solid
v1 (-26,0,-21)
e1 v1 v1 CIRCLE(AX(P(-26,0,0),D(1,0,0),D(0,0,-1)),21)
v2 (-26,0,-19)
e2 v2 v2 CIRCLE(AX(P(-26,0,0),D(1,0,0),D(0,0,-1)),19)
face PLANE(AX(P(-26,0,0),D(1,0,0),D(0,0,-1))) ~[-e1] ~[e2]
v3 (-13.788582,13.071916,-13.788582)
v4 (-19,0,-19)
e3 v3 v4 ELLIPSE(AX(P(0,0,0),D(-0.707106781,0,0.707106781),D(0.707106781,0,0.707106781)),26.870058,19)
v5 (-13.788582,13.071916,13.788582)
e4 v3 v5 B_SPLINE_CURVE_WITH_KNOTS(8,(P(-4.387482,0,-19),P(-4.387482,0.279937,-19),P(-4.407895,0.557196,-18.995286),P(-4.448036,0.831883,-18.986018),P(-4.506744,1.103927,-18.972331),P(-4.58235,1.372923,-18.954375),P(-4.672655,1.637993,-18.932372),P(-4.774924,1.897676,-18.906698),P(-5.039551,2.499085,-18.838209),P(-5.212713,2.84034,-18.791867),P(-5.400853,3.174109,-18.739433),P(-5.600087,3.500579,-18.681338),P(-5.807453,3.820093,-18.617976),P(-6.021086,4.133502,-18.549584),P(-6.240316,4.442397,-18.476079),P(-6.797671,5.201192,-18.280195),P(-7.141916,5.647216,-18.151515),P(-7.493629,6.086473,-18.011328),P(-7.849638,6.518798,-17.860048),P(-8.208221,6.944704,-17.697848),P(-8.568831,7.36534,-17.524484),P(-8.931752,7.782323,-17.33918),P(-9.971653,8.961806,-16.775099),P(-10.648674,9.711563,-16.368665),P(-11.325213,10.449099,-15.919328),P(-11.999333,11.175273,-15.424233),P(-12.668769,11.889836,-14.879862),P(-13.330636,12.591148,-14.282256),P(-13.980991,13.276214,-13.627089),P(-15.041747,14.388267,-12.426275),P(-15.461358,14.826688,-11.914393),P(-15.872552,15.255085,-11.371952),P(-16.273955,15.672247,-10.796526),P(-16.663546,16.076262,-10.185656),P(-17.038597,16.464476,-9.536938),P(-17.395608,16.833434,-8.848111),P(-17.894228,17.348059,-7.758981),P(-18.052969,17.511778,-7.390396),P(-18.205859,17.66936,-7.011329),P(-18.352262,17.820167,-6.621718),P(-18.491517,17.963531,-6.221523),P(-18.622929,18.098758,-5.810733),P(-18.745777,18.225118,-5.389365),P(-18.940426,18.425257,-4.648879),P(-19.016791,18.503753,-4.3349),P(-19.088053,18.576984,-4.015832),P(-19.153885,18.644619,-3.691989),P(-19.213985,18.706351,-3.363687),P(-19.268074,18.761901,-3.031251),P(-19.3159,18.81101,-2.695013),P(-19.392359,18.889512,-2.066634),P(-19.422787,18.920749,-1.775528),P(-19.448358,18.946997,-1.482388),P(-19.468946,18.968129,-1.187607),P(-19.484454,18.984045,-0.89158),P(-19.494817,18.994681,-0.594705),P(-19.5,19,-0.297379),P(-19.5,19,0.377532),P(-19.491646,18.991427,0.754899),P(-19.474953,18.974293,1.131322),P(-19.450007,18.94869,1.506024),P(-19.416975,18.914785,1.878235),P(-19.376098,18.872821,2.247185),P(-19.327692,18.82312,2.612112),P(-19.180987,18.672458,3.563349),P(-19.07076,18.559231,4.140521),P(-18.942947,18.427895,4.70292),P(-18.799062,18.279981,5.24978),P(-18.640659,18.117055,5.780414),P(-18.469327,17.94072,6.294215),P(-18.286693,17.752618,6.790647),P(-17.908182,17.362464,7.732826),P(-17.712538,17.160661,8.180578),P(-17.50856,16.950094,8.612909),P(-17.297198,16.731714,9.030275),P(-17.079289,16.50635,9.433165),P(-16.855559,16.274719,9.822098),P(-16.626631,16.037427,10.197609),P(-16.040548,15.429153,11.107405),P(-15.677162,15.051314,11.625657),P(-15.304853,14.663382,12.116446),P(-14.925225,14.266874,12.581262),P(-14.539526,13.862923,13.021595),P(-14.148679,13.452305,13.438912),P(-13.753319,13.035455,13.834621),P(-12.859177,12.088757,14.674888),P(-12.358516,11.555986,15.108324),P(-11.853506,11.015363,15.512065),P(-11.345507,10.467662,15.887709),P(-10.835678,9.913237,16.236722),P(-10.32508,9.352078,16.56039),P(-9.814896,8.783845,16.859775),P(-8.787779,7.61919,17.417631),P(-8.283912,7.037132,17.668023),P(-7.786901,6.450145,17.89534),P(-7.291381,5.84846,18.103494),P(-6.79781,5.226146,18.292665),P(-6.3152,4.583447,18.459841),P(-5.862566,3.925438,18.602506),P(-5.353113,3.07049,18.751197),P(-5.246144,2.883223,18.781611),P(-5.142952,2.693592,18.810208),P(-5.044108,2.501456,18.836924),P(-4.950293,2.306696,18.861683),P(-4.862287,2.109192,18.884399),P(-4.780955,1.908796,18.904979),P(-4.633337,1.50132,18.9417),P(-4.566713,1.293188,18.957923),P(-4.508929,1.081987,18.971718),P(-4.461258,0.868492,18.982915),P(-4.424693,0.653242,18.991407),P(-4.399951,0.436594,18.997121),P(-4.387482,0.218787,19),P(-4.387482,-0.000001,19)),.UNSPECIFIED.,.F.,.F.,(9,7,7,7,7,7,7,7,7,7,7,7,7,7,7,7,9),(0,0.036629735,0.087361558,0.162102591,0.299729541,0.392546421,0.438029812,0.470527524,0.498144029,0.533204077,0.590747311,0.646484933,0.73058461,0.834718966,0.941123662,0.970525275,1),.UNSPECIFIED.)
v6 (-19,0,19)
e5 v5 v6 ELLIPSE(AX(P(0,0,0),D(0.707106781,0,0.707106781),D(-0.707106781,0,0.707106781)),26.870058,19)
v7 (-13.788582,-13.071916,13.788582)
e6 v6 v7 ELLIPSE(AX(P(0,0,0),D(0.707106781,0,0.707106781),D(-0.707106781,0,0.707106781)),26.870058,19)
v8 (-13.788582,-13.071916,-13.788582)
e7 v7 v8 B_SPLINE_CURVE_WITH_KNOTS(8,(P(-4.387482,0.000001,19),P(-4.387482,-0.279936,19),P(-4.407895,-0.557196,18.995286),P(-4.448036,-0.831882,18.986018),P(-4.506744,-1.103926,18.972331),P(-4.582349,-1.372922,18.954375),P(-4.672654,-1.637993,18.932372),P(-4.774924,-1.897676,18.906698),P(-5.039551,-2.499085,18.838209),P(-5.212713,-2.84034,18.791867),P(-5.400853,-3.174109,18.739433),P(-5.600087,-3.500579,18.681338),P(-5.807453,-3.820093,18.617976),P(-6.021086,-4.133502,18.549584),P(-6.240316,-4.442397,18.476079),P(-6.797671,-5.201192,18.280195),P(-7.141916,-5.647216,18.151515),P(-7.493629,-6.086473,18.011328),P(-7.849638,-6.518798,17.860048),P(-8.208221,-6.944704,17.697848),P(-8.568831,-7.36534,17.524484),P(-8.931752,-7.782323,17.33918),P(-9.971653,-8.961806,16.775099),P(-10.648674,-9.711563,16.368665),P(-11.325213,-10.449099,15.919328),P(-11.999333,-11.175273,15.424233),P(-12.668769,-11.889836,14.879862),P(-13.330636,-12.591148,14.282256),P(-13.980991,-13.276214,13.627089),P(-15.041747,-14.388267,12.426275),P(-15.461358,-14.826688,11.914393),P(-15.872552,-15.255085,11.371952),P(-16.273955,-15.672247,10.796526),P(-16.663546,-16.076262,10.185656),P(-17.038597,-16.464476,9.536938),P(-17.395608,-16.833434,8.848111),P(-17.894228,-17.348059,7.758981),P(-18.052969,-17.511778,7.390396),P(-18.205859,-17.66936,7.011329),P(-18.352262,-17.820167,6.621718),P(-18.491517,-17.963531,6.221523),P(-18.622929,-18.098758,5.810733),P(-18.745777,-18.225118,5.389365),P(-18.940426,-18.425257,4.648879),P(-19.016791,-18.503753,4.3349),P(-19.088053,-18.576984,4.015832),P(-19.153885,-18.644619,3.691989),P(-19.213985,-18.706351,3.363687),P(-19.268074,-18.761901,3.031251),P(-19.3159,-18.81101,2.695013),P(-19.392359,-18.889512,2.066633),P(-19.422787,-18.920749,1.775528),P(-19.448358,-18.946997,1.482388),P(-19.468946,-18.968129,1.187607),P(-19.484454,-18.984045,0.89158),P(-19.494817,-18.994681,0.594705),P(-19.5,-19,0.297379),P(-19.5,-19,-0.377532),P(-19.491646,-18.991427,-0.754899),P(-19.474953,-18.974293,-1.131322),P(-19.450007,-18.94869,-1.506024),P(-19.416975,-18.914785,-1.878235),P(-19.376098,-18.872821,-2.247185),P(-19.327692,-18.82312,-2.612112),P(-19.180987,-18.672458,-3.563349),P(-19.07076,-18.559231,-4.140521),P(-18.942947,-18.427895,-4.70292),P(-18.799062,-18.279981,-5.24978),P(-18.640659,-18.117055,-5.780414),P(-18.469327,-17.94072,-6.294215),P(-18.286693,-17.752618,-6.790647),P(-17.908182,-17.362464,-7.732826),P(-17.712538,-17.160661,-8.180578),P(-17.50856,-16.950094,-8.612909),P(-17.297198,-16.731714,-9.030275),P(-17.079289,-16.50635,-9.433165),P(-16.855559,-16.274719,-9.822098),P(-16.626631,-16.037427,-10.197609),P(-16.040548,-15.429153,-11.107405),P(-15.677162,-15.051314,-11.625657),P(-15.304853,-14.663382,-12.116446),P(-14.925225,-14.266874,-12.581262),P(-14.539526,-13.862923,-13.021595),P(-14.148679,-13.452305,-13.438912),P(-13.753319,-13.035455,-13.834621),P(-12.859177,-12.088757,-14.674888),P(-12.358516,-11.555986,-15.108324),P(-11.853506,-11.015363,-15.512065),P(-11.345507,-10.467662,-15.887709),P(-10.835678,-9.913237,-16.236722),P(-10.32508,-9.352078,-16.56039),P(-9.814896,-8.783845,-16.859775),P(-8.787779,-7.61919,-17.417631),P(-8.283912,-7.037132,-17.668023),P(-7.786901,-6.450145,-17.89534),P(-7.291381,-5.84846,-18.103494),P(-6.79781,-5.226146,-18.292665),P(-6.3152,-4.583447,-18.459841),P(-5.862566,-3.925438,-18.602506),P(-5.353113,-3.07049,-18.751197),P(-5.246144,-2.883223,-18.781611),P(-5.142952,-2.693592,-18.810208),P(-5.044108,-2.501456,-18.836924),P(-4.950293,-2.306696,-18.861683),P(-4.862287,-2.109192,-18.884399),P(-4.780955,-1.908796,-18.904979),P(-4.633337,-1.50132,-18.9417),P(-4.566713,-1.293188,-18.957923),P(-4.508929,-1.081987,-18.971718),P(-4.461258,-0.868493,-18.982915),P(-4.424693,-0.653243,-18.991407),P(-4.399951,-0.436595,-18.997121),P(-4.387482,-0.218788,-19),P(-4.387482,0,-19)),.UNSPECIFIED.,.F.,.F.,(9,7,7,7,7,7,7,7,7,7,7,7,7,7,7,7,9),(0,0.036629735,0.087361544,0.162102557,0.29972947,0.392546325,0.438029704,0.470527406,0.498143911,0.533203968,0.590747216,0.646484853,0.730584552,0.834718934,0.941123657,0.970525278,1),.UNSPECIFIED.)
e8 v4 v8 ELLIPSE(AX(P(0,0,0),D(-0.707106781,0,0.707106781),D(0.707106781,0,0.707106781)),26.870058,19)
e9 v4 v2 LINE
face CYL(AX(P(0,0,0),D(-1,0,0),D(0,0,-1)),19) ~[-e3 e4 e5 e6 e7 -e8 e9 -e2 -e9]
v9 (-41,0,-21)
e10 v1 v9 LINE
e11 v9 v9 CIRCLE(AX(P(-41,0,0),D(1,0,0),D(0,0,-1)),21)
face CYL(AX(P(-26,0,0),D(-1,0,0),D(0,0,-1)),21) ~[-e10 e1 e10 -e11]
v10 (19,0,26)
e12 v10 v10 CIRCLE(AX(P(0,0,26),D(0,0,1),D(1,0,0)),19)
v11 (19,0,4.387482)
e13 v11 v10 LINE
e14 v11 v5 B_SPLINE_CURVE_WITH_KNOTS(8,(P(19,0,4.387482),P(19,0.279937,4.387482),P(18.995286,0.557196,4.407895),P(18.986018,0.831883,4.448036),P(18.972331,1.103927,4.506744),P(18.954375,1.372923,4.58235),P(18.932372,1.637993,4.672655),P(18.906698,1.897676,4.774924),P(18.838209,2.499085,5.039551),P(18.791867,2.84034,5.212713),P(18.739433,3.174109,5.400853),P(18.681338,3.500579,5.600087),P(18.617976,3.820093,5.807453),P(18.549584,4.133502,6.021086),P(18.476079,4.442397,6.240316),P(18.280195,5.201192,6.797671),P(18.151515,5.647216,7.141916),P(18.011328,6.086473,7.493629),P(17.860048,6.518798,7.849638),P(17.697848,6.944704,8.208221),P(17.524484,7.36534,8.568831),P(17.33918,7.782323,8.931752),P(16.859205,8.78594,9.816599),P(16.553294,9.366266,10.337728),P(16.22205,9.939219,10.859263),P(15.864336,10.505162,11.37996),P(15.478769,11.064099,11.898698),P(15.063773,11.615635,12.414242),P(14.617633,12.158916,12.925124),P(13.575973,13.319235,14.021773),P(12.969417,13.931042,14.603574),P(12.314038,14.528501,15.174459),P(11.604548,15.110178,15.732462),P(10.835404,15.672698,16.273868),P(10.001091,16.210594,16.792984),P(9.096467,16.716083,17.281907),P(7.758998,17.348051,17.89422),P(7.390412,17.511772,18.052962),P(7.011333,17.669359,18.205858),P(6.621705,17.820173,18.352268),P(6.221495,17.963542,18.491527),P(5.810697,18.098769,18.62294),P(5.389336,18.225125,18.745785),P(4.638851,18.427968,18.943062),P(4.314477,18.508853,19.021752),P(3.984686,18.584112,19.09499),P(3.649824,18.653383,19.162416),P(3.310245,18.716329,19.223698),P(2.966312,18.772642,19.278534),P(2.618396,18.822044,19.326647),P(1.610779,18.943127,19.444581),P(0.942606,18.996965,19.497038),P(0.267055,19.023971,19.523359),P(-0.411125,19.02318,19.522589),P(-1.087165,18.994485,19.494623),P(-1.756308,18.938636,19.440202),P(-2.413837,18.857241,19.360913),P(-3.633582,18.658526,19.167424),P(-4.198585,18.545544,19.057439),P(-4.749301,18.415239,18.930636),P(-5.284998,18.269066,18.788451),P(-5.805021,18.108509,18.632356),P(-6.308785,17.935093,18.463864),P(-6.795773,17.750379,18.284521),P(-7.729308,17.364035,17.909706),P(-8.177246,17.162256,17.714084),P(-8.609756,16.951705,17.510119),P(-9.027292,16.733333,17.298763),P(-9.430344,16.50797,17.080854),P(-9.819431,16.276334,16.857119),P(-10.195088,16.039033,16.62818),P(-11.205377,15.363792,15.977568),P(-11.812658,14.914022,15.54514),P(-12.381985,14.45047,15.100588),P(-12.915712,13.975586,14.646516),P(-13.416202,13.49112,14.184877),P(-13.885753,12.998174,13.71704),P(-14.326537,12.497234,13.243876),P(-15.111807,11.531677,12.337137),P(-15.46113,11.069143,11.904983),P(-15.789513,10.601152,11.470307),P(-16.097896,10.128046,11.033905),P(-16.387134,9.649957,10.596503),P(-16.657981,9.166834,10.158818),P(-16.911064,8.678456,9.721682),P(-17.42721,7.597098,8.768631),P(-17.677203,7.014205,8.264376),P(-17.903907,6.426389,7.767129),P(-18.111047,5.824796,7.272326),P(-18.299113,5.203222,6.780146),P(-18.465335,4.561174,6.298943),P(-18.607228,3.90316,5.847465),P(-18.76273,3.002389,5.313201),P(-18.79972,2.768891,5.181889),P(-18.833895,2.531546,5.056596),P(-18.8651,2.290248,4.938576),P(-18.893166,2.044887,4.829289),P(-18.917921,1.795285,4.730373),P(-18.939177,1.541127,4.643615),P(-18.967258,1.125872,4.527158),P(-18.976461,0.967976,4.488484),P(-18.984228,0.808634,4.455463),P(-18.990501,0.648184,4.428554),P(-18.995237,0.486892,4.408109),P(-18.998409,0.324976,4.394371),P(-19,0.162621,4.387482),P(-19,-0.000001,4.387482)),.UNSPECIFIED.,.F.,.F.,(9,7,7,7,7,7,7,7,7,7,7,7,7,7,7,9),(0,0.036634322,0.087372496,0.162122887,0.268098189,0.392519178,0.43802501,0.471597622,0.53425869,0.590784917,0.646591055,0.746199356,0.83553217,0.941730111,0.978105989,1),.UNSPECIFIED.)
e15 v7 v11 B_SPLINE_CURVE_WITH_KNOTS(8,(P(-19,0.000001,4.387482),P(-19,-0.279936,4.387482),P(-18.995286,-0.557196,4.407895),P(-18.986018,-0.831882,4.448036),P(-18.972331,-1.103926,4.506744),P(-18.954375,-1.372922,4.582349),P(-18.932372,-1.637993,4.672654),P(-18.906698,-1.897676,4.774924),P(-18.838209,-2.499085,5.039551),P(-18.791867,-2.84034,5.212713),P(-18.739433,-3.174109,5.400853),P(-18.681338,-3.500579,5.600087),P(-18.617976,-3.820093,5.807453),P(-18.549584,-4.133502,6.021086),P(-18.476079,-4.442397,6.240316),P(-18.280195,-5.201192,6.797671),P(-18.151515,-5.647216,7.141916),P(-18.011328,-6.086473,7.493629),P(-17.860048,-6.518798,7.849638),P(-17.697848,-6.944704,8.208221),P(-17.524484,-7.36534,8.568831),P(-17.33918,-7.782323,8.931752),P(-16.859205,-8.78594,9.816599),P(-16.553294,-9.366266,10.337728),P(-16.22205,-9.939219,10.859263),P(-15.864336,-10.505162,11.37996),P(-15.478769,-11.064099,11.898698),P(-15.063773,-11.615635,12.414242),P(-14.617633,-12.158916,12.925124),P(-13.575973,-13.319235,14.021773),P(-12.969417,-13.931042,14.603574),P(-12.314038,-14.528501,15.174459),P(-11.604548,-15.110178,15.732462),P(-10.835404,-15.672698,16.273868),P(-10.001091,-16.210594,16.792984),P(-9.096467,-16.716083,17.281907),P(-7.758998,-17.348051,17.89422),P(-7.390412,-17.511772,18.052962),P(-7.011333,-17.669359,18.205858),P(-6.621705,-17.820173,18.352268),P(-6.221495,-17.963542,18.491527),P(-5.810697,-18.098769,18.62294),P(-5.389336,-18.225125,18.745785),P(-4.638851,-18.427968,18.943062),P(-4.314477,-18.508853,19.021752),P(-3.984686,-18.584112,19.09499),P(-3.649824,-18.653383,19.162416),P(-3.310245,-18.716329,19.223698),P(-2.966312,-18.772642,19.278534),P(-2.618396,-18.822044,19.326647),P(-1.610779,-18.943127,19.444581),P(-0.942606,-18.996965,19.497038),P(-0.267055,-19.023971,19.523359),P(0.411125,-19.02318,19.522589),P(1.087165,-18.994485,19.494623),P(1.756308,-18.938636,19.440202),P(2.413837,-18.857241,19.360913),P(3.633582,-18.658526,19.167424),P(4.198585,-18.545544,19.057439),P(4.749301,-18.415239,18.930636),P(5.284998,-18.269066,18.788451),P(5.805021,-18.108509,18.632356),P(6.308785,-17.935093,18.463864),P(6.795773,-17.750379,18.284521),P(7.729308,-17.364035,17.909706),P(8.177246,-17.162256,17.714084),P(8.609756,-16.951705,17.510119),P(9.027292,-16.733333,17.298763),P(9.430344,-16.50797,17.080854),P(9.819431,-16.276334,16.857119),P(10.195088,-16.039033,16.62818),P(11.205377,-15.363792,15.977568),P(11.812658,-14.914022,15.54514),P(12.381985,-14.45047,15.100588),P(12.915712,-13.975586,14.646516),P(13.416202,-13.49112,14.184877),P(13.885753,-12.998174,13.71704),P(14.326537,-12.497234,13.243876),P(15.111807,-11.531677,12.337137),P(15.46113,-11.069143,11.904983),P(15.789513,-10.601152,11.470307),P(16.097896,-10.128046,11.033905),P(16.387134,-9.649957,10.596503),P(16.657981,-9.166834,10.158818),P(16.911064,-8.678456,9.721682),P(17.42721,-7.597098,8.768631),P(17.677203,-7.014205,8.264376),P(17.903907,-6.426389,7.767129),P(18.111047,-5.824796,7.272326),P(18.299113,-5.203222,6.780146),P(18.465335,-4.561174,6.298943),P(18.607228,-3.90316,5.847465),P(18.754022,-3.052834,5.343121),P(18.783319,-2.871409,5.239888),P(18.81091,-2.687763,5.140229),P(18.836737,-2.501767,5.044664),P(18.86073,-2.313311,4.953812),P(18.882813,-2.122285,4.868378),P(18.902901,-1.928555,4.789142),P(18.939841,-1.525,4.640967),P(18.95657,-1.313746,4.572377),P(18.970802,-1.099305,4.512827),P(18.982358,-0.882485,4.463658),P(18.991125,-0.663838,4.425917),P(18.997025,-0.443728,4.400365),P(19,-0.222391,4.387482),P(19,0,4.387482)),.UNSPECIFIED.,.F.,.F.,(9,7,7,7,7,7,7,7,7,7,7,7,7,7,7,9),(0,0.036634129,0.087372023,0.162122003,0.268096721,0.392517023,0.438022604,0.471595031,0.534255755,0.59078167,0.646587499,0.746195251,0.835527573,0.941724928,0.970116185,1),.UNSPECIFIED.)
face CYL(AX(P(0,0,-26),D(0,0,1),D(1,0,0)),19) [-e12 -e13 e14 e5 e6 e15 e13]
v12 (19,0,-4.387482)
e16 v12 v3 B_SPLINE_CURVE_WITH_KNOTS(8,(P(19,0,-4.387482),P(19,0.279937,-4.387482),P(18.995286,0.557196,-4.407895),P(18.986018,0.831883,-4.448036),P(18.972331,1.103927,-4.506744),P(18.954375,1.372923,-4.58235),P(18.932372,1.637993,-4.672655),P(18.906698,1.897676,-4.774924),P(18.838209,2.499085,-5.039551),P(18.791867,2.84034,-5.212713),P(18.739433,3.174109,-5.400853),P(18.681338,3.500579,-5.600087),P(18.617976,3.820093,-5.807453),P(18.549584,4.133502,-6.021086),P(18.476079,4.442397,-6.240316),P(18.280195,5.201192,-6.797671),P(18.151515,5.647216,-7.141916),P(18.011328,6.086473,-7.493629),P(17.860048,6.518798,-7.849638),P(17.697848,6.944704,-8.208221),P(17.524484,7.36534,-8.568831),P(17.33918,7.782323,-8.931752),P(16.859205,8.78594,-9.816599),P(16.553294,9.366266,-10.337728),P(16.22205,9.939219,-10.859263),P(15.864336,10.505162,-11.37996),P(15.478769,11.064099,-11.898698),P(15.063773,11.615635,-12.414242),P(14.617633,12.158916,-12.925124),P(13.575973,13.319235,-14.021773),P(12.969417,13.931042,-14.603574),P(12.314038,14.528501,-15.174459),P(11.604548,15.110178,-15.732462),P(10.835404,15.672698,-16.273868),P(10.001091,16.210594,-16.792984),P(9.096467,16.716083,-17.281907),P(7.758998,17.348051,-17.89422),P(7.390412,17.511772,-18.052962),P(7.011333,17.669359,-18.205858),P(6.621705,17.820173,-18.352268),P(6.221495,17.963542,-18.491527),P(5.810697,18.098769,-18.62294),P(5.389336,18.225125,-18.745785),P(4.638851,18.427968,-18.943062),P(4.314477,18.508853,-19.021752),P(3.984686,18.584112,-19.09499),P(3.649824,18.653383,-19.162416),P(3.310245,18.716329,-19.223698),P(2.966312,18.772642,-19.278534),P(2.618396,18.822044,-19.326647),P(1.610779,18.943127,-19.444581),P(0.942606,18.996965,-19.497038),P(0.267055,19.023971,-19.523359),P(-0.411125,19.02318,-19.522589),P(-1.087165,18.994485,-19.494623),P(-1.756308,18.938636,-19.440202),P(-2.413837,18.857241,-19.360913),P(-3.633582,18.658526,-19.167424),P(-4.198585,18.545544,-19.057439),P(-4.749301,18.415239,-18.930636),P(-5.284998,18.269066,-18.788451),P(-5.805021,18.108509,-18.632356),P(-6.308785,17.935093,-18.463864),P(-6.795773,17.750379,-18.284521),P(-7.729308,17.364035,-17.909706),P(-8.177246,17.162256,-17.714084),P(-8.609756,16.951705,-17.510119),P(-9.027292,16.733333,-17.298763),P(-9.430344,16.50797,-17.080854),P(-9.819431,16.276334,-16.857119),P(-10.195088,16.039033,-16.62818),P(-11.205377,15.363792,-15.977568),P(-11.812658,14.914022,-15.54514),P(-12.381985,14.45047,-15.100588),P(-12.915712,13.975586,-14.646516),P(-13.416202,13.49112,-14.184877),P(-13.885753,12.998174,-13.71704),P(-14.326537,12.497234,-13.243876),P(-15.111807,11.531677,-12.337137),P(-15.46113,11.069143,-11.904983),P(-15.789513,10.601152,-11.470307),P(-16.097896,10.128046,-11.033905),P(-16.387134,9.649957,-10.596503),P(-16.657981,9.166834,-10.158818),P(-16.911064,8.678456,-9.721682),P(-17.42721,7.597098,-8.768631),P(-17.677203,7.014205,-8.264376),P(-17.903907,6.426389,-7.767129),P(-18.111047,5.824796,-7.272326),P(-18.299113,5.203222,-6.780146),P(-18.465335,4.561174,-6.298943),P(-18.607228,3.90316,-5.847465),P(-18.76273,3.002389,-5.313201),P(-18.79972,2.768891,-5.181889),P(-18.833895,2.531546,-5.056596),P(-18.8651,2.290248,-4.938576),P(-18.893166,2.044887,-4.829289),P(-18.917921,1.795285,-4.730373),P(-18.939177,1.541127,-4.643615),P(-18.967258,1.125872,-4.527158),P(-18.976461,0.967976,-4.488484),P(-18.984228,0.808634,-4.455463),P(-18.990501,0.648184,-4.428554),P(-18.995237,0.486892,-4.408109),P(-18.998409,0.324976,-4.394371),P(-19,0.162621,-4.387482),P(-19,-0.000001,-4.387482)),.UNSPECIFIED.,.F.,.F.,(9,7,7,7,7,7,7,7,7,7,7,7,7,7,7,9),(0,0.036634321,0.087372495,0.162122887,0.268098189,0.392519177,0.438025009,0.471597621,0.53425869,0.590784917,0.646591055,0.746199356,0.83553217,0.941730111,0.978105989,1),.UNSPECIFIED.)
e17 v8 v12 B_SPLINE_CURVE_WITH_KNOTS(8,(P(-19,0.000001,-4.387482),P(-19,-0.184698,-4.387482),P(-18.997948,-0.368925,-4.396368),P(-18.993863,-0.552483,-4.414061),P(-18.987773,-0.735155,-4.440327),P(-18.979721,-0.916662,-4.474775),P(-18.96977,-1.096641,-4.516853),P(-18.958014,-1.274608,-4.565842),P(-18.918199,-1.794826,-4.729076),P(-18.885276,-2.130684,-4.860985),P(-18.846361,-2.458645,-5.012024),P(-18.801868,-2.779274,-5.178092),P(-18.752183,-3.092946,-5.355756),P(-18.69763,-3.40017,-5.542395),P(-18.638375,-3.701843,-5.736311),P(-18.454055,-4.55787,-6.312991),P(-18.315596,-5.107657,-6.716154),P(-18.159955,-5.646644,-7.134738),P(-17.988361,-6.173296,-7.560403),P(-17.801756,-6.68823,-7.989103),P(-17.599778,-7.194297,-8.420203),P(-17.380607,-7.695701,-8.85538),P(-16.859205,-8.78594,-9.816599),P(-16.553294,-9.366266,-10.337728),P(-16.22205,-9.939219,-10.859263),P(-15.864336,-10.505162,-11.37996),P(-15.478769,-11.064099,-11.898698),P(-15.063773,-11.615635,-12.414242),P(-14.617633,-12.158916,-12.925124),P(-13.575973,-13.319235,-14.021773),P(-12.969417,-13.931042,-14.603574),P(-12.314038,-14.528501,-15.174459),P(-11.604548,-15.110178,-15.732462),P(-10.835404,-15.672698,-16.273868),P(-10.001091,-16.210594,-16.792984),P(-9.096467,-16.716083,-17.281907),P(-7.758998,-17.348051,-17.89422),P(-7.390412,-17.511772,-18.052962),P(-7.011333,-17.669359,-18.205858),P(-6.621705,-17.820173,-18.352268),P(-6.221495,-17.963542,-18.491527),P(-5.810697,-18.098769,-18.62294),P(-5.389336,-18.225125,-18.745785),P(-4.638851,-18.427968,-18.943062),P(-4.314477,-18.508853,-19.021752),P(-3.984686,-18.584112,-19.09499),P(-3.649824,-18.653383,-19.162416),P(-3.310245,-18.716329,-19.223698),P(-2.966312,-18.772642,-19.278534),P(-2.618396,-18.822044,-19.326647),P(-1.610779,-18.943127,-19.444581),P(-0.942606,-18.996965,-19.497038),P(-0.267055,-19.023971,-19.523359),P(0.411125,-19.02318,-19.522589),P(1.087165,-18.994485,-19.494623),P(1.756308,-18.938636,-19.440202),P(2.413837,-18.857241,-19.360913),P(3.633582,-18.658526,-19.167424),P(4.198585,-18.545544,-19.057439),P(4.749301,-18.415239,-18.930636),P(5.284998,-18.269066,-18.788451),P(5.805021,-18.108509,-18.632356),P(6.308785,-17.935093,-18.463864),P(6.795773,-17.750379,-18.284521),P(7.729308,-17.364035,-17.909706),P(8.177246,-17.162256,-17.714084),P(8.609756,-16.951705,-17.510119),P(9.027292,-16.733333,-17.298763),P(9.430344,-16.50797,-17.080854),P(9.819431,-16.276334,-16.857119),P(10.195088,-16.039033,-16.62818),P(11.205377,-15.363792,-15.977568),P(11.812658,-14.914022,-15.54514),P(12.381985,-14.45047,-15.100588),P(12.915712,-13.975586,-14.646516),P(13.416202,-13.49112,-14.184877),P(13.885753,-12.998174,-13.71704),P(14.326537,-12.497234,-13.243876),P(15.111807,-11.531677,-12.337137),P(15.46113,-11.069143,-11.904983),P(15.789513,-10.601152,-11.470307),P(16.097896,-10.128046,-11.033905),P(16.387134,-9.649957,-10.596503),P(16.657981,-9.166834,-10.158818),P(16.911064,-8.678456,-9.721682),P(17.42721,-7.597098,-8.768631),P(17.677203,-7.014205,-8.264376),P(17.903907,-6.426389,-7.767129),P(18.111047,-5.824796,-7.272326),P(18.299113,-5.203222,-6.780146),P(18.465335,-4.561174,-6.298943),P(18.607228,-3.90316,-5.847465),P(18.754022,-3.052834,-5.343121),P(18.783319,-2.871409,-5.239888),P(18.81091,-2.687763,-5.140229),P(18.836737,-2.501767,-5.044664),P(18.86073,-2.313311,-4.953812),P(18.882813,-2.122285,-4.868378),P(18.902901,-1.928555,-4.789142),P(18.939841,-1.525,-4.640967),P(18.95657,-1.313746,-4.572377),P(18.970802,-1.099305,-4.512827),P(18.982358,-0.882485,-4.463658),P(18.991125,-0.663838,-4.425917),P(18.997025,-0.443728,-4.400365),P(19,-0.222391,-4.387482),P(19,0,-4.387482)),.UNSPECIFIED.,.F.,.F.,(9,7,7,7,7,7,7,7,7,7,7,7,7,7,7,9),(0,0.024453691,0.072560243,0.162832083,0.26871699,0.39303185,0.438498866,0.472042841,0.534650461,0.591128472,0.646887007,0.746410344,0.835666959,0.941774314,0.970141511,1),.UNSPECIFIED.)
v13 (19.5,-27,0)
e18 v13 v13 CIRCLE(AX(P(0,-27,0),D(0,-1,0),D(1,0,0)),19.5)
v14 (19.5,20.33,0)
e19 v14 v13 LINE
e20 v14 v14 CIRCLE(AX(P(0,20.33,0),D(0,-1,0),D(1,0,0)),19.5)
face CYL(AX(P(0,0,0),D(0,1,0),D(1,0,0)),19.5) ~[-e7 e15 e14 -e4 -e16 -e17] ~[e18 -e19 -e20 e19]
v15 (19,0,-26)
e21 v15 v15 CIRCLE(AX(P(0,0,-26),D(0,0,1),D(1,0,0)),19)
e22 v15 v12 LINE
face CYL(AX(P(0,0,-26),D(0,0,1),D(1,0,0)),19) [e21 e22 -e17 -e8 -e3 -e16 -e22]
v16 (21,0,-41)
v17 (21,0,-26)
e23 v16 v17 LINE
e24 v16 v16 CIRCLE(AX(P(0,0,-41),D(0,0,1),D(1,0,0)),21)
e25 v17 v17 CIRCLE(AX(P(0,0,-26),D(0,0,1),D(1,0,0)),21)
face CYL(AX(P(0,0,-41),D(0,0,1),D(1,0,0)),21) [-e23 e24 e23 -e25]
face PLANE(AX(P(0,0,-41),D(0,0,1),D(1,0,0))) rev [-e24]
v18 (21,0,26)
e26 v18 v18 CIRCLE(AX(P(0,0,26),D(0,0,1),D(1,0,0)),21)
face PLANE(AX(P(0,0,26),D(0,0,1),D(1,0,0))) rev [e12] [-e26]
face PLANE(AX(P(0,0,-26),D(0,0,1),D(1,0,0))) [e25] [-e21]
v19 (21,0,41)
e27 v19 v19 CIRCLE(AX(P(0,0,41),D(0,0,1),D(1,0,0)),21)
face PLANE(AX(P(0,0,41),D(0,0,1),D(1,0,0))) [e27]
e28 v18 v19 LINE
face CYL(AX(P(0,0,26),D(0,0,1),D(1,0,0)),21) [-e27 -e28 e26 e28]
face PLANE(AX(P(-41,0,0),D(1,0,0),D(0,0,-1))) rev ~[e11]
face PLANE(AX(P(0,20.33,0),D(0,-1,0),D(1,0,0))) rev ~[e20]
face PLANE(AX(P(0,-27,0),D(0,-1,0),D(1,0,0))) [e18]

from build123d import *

# Parameters (mm, degrees)
SKETCH002_R  = 19.5
PAD_DEPTH    = 20.33
PAD001_DEPTH = 27


with BuildPart() as part:
    # Sketch → Revolution (revolve)
    with BuildSketch(Plane.XZ):
        Polygon((0, -41), (21, -41), (21, -26), (19, -26), (19, 26), (21, 26), (21, 41), (0, 41), align=None)
    revolve(axis=Axis((0, 0, 0), (0, 0, 1)))

    # Sketch001 → Revolution001 (revolve)
    with BuildSketch(Plane.XZ):
        Polygon((0, 0), (0, -19), (-26, -19), (-26, -21), (-41, -21), (-41, 0), align=None)
    revolve(axis=Axis((0, 0, 0), (1, 0, 0)))

    # Sketch002 → Pad (new body)
    with BuildSketch(Plane.XZ):
        Circle(SKETCH002_R)
    extrude(amount=-PAD_DEPTH)

    # Sketch002 → Pad001 (join)
    with BuildSketch(Plane.XZ):
        Circle(SKETCH002_R)
    extrude(amount=PAD001_DEPTH)


solid = part.part
